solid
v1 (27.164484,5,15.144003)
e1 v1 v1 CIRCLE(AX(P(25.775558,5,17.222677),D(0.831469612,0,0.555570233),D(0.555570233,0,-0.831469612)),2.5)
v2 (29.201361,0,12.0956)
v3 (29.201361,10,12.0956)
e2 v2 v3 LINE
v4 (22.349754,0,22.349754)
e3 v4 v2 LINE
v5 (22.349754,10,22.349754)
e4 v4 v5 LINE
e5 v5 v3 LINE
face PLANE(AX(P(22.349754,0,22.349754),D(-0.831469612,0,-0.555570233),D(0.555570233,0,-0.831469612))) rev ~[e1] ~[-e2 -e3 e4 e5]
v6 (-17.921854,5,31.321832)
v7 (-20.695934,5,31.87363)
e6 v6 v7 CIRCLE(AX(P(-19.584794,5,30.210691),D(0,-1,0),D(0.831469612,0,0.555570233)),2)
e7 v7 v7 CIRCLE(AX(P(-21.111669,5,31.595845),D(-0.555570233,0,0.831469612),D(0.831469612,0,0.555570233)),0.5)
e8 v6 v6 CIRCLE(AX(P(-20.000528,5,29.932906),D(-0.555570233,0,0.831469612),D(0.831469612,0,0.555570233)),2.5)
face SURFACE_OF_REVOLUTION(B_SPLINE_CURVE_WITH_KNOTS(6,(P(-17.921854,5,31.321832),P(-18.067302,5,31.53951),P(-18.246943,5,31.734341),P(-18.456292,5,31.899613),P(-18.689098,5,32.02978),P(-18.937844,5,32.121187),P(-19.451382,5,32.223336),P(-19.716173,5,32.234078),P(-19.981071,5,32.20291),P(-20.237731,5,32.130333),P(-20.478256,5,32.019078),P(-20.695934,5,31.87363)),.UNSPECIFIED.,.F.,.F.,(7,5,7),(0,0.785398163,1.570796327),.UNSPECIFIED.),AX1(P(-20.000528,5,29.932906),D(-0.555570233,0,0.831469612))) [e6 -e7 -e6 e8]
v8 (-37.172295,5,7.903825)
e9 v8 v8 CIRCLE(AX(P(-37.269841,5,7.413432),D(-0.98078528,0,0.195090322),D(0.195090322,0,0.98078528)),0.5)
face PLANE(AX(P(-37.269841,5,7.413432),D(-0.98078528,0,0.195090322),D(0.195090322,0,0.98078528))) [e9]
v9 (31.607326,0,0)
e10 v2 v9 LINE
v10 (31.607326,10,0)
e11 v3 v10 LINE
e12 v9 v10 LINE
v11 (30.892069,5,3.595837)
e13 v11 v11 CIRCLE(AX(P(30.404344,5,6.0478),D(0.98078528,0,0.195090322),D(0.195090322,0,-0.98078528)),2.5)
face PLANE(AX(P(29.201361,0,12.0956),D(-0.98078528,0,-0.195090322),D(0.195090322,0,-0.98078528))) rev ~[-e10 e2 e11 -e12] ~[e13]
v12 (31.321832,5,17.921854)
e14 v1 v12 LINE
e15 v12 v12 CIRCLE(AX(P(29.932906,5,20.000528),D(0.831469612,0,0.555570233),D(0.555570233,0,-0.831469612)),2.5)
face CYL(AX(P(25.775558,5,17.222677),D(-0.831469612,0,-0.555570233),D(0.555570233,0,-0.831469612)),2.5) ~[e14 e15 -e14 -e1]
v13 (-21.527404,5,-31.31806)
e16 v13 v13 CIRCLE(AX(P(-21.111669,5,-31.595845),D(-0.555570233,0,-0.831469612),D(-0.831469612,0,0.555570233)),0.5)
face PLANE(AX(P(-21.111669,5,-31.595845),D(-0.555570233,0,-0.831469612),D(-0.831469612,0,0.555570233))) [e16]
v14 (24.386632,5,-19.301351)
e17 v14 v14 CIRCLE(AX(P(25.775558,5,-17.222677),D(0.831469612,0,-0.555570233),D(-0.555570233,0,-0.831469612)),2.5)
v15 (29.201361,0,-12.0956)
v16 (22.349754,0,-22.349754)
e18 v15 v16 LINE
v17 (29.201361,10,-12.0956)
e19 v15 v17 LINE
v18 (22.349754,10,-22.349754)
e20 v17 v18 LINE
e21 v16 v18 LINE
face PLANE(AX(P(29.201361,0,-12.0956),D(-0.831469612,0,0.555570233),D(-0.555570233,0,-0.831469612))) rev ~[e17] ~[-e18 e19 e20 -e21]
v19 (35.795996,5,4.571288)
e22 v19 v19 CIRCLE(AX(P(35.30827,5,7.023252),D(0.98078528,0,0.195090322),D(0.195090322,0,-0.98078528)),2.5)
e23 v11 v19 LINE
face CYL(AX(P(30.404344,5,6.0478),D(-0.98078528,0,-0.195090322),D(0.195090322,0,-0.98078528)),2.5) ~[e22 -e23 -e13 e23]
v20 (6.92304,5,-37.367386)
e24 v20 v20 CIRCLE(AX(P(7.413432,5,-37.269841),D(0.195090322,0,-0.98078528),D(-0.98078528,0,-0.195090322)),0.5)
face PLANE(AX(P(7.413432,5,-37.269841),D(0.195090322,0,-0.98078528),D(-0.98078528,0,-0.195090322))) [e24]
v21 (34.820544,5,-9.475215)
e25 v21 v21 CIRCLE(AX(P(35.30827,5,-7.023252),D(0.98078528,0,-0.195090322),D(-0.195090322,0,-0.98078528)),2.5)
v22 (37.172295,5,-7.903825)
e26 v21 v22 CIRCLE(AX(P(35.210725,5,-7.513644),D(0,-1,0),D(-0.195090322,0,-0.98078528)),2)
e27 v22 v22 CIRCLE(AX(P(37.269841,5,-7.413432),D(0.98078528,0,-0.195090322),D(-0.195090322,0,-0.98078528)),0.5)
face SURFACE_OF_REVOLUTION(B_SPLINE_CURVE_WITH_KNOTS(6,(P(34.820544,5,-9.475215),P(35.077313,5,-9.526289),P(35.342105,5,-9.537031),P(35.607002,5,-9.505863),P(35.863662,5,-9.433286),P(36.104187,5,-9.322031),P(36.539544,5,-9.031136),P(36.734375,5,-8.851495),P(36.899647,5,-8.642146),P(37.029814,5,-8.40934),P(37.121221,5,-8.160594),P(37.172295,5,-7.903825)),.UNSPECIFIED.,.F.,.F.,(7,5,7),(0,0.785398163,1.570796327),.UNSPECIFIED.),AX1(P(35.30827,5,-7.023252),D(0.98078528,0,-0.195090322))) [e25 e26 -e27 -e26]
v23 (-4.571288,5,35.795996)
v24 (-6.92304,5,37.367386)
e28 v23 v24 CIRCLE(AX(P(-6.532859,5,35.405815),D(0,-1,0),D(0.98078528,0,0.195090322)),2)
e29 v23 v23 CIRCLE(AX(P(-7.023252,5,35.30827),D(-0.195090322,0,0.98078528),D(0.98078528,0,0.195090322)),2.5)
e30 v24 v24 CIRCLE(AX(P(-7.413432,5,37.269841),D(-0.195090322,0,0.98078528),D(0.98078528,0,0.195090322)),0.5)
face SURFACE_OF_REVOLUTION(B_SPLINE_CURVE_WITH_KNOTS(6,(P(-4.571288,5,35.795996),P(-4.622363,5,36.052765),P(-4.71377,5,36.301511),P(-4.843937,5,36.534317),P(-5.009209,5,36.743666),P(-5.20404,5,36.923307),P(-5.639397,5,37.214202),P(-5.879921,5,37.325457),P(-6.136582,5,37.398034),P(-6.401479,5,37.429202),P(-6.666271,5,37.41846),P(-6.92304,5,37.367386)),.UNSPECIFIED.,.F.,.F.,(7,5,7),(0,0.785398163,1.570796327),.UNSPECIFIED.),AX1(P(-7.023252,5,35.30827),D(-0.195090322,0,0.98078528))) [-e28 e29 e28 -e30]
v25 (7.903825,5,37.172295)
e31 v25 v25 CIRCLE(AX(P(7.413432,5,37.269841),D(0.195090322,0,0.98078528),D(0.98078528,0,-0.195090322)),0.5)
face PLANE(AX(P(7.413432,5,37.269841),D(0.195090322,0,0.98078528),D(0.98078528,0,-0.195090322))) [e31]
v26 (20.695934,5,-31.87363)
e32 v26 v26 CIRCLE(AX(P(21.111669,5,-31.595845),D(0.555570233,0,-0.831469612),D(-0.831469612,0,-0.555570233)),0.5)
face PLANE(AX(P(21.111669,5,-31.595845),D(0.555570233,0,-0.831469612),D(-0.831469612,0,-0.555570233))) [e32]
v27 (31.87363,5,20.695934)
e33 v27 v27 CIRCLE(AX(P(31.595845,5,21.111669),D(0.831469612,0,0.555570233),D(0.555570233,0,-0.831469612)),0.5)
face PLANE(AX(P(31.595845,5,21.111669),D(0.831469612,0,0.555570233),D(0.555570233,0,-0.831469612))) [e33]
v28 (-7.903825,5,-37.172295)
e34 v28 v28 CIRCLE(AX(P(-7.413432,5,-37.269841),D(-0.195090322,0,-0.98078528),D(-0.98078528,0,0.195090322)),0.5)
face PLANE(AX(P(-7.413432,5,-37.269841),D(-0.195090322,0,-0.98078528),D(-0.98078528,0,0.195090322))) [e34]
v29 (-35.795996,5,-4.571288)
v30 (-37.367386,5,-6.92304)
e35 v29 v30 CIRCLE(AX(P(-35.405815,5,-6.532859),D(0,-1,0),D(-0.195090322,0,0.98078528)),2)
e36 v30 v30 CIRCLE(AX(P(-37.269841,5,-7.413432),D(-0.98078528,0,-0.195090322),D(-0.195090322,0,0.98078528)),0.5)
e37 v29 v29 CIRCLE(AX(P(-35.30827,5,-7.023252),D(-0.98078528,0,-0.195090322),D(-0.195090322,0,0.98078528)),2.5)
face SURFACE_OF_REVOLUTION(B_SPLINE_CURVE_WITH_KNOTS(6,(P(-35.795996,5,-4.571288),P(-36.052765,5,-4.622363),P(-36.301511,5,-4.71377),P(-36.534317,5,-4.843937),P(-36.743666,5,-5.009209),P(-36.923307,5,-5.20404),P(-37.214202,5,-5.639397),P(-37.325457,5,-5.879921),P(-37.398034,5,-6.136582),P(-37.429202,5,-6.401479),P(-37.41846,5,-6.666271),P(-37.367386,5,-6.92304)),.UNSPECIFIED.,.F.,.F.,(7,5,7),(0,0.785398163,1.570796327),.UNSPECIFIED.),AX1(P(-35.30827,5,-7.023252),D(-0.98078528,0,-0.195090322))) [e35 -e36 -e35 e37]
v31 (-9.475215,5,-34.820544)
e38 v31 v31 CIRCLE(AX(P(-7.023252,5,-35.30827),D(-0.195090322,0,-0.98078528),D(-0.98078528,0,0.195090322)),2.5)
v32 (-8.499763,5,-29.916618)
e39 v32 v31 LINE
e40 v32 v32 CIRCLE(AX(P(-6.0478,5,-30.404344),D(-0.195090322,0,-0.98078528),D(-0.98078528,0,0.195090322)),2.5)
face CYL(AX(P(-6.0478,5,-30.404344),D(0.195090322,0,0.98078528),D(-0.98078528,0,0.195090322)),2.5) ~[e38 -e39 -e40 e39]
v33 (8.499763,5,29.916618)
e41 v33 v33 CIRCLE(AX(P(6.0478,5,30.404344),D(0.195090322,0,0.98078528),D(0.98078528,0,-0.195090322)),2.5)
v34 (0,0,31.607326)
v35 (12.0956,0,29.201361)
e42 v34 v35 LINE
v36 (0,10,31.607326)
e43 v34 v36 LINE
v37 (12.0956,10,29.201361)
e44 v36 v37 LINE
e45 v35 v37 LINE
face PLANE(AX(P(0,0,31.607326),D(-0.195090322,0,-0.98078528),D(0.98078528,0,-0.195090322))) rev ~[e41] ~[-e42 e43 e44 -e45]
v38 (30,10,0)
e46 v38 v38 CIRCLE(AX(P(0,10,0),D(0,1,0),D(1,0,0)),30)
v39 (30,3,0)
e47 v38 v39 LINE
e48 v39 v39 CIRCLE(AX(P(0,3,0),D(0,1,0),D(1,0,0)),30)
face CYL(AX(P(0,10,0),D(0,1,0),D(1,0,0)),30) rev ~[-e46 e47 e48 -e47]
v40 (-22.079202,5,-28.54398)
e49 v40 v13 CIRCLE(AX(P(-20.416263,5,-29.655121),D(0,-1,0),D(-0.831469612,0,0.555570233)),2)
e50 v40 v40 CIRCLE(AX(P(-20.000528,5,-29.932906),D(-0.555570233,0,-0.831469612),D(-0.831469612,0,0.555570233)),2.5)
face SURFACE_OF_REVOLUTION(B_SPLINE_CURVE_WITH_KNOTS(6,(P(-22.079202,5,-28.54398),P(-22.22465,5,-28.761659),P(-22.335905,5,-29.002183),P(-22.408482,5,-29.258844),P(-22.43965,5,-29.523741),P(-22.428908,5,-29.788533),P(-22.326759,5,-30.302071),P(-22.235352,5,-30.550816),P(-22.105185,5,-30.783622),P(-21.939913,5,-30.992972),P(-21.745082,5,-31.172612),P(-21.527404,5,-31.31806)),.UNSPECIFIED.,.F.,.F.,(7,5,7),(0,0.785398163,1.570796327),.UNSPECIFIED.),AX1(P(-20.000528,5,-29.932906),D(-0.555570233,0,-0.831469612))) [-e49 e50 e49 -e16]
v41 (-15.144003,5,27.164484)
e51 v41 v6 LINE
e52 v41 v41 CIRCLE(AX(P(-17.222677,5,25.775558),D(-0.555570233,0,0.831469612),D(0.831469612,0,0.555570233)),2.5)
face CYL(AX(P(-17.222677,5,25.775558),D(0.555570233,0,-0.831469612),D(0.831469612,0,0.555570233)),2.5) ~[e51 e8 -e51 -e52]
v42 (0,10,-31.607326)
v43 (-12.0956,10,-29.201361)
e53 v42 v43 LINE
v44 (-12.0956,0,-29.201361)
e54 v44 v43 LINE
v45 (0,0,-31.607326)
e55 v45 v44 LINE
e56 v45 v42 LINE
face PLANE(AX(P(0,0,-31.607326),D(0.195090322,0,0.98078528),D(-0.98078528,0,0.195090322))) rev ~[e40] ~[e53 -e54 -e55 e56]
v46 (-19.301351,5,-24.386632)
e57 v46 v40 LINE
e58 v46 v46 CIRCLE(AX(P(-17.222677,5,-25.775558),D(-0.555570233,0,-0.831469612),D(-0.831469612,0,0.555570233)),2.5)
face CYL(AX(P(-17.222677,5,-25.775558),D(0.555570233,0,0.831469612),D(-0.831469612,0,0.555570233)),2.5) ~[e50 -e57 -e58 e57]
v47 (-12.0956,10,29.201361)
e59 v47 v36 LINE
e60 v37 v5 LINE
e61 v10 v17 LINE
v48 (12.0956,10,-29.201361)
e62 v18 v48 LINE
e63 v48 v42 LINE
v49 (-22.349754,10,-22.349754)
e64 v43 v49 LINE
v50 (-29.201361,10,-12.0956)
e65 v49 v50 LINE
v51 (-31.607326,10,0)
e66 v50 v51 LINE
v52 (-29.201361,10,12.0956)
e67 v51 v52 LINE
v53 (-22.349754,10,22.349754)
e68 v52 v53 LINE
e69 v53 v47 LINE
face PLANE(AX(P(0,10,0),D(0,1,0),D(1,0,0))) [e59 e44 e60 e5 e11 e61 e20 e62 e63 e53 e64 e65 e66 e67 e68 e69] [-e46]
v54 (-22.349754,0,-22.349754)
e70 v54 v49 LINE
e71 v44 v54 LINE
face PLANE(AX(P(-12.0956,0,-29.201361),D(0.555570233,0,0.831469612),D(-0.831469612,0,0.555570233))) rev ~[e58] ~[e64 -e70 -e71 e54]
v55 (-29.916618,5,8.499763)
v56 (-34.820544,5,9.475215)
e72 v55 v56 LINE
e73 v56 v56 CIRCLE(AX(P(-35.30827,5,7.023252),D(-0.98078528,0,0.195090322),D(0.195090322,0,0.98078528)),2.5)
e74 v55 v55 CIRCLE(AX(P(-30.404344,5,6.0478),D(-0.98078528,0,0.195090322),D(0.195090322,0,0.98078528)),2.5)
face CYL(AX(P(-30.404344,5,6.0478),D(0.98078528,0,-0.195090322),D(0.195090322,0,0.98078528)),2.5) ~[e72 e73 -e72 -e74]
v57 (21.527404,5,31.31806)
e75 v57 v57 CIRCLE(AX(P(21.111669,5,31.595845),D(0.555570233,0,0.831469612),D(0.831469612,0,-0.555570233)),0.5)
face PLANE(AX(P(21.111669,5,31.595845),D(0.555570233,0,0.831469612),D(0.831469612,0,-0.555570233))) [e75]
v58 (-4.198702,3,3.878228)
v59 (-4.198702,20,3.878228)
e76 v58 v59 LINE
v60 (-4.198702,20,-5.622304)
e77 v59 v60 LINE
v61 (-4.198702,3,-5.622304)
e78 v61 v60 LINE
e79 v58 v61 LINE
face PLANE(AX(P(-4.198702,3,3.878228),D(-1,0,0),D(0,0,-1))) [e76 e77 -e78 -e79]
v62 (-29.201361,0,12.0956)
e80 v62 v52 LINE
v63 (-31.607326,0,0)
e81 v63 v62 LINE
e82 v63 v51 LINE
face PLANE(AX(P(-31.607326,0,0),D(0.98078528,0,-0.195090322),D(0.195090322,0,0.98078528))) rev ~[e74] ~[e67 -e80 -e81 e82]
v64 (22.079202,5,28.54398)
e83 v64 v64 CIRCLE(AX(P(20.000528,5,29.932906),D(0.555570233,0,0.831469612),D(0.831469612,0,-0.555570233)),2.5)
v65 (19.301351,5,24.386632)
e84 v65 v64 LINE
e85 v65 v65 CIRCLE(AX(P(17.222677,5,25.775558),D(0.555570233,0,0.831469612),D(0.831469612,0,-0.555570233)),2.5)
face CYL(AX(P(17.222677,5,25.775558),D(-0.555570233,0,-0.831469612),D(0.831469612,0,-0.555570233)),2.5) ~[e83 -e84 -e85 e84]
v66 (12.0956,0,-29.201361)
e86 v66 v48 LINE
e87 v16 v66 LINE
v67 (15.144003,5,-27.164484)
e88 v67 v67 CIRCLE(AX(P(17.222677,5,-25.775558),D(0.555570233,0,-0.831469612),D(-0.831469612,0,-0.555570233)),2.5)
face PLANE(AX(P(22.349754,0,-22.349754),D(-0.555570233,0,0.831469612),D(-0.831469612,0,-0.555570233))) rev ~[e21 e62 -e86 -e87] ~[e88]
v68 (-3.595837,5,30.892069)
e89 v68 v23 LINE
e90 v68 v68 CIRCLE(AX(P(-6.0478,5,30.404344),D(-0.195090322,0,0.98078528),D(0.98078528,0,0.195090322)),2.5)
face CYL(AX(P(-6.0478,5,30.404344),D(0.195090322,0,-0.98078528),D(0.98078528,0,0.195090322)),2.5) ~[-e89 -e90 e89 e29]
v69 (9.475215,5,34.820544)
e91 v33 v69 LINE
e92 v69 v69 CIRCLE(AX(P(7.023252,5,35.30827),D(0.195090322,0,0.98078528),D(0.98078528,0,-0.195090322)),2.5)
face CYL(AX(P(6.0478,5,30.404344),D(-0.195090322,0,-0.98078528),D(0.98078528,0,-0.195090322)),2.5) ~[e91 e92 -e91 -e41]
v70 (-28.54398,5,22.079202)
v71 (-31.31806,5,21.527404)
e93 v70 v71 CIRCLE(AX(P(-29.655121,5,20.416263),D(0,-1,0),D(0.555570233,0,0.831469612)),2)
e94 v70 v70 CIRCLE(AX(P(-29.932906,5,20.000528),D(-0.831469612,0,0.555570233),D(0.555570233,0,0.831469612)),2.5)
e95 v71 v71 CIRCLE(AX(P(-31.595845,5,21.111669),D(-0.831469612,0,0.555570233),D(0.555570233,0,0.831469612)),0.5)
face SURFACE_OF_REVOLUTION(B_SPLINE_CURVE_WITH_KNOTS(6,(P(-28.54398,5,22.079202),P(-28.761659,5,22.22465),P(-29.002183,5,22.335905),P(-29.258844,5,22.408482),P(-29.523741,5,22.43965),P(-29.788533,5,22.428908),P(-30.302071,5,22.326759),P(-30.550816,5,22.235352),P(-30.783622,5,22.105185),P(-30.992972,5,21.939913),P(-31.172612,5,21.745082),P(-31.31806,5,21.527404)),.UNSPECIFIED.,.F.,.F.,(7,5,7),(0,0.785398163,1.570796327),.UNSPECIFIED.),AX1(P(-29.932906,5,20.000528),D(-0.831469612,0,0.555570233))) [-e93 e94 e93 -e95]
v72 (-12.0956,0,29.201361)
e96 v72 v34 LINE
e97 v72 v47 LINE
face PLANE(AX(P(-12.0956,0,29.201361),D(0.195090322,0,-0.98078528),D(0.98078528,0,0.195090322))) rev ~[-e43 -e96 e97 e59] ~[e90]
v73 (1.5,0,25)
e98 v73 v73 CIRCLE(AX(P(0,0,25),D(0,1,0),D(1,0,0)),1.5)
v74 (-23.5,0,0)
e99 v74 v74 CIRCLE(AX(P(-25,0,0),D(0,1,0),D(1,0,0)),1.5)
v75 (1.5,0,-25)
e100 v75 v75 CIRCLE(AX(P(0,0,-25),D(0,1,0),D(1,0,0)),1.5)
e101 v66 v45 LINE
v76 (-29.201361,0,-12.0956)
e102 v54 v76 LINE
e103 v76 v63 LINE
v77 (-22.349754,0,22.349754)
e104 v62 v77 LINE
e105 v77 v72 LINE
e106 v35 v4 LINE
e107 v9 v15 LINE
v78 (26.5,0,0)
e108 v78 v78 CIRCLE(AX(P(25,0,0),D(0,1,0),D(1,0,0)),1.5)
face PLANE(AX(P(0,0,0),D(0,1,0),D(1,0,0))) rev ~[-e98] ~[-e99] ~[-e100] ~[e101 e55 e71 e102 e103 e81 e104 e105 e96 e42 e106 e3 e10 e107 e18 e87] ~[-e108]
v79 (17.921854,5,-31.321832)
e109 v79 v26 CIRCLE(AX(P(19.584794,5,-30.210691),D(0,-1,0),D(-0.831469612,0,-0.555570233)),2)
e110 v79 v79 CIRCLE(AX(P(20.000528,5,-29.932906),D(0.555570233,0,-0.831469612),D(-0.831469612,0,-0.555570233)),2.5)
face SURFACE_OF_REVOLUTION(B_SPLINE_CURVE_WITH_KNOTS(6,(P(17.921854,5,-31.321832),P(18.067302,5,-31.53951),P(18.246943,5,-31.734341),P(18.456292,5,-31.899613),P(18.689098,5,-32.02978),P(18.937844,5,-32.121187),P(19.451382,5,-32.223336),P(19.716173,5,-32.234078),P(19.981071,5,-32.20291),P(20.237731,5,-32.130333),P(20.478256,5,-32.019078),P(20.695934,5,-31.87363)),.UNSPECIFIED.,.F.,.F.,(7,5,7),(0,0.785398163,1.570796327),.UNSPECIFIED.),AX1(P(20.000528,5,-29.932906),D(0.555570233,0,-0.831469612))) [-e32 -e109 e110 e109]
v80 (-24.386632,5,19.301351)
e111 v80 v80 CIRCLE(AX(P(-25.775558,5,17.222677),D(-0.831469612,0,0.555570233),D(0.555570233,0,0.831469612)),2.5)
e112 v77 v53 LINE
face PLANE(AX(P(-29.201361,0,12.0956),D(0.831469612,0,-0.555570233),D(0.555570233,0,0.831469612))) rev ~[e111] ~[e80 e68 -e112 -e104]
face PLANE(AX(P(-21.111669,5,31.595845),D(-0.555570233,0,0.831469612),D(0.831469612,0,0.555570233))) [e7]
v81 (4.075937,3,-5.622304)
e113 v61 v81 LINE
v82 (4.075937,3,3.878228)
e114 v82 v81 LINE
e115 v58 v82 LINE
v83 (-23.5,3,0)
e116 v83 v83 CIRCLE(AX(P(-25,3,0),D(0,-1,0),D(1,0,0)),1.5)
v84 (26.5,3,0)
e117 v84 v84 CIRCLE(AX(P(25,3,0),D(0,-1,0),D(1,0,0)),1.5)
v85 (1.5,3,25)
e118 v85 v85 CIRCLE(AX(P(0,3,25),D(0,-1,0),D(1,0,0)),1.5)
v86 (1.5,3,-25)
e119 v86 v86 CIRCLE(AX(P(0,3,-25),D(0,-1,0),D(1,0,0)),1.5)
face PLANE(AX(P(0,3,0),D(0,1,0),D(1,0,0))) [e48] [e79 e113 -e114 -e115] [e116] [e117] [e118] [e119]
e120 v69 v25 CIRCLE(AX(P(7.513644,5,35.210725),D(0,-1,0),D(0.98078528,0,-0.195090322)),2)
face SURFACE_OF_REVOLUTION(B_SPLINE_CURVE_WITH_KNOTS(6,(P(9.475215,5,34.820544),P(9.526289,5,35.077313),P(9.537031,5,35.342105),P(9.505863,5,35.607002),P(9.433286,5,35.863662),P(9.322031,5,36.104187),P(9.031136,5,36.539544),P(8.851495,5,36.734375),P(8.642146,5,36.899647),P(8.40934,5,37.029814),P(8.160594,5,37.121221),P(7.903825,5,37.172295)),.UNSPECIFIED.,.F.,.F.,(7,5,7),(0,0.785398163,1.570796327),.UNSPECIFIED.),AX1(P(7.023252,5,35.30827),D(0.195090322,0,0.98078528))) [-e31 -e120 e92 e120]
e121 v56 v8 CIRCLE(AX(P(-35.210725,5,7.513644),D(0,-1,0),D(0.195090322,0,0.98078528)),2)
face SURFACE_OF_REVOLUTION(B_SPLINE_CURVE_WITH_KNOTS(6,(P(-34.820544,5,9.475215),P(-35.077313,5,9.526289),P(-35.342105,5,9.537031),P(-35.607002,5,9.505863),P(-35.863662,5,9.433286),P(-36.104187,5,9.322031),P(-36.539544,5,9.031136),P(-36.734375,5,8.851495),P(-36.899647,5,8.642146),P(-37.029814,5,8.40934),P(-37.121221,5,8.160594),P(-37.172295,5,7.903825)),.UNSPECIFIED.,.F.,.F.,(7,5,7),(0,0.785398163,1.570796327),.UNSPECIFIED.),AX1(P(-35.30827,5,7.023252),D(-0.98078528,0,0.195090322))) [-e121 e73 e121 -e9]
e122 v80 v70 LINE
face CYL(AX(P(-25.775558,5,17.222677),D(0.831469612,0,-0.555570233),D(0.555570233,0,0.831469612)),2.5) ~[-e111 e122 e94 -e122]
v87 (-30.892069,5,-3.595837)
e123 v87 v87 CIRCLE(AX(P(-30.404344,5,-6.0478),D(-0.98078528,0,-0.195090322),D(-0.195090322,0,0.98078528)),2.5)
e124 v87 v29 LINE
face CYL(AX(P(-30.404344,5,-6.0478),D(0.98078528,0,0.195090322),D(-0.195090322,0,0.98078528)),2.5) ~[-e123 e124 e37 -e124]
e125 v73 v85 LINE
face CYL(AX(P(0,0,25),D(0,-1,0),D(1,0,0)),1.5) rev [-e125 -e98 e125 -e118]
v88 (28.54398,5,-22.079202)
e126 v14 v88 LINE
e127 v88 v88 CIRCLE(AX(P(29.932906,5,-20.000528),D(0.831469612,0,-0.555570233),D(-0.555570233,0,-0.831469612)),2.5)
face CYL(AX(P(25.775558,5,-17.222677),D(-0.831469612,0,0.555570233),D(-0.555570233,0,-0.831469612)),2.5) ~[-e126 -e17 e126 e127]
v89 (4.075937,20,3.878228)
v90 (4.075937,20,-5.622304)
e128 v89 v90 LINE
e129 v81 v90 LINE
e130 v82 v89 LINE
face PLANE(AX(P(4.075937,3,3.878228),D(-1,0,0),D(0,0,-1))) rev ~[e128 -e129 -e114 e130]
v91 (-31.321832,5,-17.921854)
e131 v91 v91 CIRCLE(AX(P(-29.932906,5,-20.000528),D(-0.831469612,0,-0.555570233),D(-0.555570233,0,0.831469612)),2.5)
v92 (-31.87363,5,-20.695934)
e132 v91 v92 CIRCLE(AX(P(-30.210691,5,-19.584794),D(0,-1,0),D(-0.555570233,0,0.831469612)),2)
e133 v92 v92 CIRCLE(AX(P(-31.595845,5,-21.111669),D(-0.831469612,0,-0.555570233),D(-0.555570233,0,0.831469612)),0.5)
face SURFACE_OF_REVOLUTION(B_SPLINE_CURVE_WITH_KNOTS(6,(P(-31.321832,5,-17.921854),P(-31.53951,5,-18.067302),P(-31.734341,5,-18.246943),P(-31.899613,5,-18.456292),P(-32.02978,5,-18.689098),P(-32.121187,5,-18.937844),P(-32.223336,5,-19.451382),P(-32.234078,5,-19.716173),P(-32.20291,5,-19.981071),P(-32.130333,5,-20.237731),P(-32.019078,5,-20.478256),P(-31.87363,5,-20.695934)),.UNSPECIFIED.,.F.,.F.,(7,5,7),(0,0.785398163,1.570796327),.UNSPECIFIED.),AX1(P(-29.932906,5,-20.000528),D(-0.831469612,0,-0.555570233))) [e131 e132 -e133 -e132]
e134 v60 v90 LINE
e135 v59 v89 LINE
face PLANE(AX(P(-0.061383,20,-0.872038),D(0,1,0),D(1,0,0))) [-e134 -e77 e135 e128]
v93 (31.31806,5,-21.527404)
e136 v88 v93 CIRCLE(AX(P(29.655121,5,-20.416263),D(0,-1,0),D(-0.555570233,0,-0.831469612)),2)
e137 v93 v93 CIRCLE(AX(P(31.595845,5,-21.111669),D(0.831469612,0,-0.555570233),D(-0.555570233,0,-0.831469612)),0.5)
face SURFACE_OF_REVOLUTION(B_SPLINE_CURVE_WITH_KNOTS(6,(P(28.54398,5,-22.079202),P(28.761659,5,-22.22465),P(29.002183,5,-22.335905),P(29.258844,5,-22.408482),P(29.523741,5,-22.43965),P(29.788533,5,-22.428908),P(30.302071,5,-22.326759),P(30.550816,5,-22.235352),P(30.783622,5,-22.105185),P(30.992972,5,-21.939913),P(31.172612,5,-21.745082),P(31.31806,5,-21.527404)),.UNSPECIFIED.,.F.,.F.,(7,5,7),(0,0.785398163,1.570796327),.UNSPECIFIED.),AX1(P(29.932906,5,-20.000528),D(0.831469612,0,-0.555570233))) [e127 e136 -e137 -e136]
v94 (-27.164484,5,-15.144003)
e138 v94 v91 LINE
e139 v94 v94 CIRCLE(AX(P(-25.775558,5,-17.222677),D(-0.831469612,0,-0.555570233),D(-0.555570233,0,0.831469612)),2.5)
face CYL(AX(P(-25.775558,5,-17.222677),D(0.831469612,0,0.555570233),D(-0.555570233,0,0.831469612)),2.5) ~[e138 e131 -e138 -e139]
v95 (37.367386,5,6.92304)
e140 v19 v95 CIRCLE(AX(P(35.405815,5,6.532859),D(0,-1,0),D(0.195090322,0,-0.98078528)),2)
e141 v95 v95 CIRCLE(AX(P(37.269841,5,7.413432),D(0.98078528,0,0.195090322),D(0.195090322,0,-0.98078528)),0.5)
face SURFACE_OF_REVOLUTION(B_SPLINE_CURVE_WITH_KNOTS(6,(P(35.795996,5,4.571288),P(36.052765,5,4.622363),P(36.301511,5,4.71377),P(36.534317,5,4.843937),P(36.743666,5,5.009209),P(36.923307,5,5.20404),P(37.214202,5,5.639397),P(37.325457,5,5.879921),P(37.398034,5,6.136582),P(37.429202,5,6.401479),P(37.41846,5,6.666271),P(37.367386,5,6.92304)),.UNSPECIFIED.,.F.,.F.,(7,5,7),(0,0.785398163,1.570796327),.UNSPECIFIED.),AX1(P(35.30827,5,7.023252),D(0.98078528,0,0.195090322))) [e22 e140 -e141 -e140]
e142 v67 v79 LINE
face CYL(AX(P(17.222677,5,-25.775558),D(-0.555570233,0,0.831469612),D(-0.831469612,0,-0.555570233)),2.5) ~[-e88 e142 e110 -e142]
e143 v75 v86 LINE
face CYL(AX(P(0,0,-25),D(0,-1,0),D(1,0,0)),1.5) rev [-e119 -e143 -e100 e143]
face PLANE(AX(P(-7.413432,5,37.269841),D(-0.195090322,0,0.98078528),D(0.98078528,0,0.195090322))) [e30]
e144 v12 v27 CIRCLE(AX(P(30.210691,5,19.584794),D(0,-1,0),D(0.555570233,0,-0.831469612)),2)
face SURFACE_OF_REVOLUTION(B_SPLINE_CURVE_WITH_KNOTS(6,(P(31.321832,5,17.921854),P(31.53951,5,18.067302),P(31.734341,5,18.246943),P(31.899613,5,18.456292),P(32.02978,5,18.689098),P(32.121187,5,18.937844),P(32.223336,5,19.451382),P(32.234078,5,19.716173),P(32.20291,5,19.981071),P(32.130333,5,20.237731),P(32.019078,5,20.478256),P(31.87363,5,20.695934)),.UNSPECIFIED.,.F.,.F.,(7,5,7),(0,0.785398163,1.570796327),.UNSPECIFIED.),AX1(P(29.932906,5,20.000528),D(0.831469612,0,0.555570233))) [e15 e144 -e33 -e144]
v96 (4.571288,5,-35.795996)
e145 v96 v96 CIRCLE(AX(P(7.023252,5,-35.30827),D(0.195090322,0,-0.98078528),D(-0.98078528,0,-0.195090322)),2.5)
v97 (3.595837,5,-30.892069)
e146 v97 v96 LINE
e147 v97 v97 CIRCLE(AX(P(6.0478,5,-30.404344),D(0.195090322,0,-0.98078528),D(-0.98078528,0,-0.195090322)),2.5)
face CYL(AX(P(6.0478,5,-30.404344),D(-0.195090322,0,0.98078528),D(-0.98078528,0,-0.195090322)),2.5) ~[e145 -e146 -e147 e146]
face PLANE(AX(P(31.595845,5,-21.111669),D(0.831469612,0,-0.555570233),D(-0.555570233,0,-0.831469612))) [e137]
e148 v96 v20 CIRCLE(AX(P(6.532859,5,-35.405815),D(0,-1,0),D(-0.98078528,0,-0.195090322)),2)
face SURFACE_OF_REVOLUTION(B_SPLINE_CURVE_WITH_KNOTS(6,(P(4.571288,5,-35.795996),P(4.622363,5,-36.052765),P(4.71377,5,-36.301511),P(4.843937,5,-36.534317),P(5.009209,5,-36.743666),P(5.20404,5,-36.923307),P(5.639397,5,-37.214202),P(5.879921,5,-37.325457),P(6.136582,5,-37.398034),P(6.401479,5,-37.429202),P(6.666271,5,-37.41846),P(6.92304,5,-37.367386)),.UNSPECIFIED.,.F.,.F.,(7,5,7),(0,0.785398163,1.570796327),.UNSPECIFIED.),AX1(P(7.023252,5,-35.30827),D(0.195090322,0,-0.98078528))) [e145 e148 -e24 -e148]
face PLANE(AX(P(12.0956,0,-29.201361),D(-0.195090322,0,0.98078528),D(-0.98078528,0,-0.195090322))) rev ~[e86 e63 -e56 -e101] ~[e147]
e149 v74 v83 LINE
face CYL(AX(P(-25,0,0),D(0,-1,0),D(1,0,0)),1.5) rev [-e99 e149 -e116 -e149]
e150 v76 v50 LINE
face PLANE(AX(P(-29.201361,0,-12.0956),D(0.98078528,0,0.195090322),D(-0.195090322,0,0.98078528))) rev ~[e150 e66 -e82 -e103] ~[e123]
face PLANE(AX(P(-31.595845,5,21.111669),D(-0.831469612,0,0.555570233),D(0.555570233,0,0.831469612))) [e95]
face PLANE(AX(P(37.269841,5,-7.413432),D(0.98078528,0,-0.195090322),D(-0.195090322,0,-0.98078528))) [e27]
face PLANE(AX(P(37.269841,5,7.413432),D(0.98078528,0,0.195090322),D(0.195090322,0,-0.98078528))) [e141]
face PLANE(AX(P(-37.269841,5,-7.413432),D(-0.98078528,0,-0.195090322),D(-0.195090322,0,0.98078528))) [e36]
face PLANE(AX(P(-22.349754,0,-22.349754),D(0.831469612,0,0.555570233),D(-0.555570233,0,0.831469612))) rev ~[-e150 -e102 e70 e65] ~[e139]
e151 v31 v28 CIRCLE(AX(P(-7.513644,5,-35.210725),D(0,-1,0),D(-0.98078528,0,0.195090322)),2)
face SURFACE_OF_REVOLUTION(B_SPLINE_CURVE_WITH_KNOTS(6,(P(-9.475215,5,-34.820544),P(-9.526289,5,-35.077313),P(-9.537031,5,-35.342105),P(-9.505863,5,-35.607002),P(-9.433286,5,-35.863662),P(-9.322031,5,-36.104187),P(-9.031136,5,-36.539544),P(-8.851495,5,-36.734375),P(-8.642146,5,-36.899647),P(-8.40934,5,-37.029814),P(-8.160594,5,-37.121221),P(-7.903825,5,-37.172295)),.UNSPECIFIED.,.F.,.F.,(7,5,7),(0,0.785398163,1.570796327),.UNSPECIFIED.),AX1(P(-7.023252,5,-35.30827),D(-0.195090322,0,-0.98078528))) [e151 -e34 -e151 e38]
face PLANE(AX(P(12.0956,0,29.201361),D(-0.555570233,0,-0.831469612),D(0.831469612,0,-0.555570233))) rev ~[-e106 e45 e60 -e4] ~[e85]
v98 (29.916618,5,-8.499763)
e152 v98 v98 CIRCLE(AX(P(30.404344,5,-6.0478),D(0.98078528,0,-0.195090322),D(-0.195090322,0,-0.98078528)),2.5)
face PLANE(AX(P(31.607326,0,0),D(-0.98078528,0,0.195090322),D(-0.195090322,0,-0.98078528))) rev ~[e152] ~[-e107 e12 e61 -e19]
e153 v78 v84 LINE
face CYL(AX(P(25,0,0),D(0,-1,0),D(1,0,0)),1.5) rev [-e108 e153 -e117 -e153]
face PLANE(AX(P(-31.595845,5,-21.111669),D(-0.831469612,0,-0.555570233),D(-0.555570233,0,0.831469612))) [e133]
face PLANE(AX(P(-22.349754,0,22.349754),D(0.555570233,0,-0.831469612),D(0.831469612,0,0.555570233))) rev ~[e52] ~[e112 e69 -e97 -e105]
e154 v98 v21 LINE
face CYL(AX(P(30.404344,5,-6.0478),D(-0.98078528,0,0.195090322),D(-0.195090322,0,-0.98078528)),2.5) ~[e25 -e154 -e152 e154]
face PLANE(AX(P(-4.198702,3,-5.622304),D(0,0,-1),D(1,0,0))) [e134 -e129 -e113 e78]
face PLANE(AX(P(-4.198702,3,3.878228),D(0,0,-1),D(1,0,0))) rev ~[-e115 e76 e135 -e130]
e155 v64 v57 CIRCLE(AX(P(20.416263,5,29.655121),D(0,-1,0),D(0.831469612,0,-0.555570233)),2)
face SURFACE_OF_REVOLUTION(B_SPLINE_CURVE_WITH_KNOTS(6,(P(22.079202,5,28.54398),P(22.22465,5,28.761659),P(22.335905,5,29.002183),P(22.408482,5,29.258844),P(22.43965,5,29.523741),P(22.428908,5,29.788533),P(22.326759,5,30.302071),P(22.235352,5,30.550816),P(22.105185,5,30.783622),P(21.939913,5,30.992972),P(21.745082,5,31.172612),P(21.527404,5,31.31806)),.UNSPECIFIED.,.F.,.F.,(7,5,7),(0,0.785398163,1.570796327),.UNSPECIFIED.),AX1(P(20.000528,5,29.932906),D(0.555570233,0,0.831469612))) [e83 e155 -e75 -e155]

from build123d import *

# Parameters (mm, degrees)
ESQUISSE1_R                        = 1.5
EXTRUSION1_DEPTH                   = 10
ESQUISSE3_R                        = 30
EXTRUSION3_DEPTH                   = 7
ESQUISSE4_R                        = 2.5
EXTRUSION4_DEPTH                   = 7
CONG_1_R                           = 2
R_P_TITION_CIRCULAIRE1_COUNT       = 16
CONG_1_OF_R_P_TITION_CIRCULAIRE1_R = 2
ESQUISSE5_W                        = 8.27463906
ESQUISSE5_H                        = 9.500531968
EXTRUSION5_DEPTH                   = 17


with BuildPart() as part:
    # Esquisse1 → Extrusion1 (new body)
    with BuildSketch(Plane(origin=(0, 0, 0), x_dir=(1, 0, 0), z_dir=(0, 1, 0))):
        Polygon((0, 31.607325904), (-12.095599965, 29.201361481), (-22.349754482, 22.349754482), (-29.201361481, 12.095599965), (-31.607325904, 0), (-29.201361481, -12.095599965), (-22.349754482, -22.349754482), (-12.095599965, -29.201361481), (0, -31.607325904), (12.095599965, -29.201361481), (22.349754482, -22.349754482), (29.201361481, -12.095599965), (31.607325904, 0), (29.201361481, 12.095599965), (22.349754482, 22.349754482), (12.095599965, 29.201361481), align=None)
        with Locations((0, 25)):
            Circle(ESQUISSE1_R, mode=Mode.SUBTRACT)
        with Locations((-25, 0)):
            Circle(ESQUISSE1_R, mode=Mode.SUBTRACT)
        with Locations((0, -25)):
            Circle(ESQUISSE1_R, mode=Mode.SUBTRACT)
        with Locations((25, 0)):
            Circle(ESQUISSE1_R, mode=Mode.SUBTRACT)
    extrude(amount=EXTRUSION1_DEPTH)

    # Esquisse3 → Extrusion3 (cut)
    with BuildSketch(Plane(origin=(0, 10, 0), x_dir=(1, 0, 0), z_dir=(0, 1, 0))):
        Circle(ESQUISSE3_R)
    extrude(amount=-EXTRUSION3_DEPTH, mode=Mode.SUBTRACT)

    # Esquisse4 → Extrusion4 (add)
    with BuildSketch(Plane(origin=(6.047799983, 0, 30.404343693), x_dir=(0.98078528, 0, -0.195090322), z_dir=(0.195090322, 0, 0.98078528))):
        with Locations((0, 5)):
            Circle(ESQUISSE4_R)
    extrusion4 = extrude(amount=EXTRUSION4_DEPTH)

    # Congé1
    cong_1_edges = [part.edges().sort_by_distance(p)[0] for p in [
        (4.961469036, 5, 37.75756646),
    ]]
    fillet(cong_1_edges, radius=CONG_1_R)

    # Répétition circulaire1: Extrusion4 ×16 about axis
    r_p_tition_circulaire1_axis = Axis((0, 0, 0), (0, 1, 0))
    for i in range(1, R_P_TITION_CIRCULAIRE1_COUNT):
        add(extrusion4.rotate(r_p_tition_circulaire1_axis, i * 360 / R_P_TITION_CIRCULAIRE1_COUNT))

    # Congé1 of Répétition circulaire1
    cong_1_of_r_p_tition_circulaire1_edges = [part.edges().sort_by_distance(p)[0] for p in [
        (19.032994824, 5, 32.98477085),
        (30.206919685, 5, 23.190342886),
        (36.78211485, 5, 9.865395438),
        (37.75756646, 5, -4.961469036),
        (32.98477085, 5, -19.032994824),
        (23.190342886, 5, -30.206919685),
        (9.865395438, 5, -36.78211485),
        (-4.961469036, 5, -37.75756646),
        (-19.032994824, 5, -32.98477085),
        (-30.206919685, 5, -23.190342886),
        (-36.78211485, 5, -9.865395438),
        (-37.75756646, 5, 4.961469036),
        (-32.98477085, 5, 19.032994824),
        (-23.190342886, 5, 30.206919685),
        (-9.865395438, 5, 36.78211485),
    ]]
    fillet(cong_1_of_r_p_tition_circulaire1_edges, radius=CONG_1_OF_R_P_TITION_CIRCULAIRE1_R)

    # Esquisse5 → Extrusion5 (add)
    with BuildSketch(Plane(origin=(0, 3, 0), x_dir=(1, 0, 0), z_dir=(0, 1, 0))):
        with Locations((-0.061382832, 0.872037643)):
            Rectangle(ESQUISSE5_W, ESQUISSE5_H)
    extrude(amount=EXTRUSION5_DEPTH)


solid = part.part
